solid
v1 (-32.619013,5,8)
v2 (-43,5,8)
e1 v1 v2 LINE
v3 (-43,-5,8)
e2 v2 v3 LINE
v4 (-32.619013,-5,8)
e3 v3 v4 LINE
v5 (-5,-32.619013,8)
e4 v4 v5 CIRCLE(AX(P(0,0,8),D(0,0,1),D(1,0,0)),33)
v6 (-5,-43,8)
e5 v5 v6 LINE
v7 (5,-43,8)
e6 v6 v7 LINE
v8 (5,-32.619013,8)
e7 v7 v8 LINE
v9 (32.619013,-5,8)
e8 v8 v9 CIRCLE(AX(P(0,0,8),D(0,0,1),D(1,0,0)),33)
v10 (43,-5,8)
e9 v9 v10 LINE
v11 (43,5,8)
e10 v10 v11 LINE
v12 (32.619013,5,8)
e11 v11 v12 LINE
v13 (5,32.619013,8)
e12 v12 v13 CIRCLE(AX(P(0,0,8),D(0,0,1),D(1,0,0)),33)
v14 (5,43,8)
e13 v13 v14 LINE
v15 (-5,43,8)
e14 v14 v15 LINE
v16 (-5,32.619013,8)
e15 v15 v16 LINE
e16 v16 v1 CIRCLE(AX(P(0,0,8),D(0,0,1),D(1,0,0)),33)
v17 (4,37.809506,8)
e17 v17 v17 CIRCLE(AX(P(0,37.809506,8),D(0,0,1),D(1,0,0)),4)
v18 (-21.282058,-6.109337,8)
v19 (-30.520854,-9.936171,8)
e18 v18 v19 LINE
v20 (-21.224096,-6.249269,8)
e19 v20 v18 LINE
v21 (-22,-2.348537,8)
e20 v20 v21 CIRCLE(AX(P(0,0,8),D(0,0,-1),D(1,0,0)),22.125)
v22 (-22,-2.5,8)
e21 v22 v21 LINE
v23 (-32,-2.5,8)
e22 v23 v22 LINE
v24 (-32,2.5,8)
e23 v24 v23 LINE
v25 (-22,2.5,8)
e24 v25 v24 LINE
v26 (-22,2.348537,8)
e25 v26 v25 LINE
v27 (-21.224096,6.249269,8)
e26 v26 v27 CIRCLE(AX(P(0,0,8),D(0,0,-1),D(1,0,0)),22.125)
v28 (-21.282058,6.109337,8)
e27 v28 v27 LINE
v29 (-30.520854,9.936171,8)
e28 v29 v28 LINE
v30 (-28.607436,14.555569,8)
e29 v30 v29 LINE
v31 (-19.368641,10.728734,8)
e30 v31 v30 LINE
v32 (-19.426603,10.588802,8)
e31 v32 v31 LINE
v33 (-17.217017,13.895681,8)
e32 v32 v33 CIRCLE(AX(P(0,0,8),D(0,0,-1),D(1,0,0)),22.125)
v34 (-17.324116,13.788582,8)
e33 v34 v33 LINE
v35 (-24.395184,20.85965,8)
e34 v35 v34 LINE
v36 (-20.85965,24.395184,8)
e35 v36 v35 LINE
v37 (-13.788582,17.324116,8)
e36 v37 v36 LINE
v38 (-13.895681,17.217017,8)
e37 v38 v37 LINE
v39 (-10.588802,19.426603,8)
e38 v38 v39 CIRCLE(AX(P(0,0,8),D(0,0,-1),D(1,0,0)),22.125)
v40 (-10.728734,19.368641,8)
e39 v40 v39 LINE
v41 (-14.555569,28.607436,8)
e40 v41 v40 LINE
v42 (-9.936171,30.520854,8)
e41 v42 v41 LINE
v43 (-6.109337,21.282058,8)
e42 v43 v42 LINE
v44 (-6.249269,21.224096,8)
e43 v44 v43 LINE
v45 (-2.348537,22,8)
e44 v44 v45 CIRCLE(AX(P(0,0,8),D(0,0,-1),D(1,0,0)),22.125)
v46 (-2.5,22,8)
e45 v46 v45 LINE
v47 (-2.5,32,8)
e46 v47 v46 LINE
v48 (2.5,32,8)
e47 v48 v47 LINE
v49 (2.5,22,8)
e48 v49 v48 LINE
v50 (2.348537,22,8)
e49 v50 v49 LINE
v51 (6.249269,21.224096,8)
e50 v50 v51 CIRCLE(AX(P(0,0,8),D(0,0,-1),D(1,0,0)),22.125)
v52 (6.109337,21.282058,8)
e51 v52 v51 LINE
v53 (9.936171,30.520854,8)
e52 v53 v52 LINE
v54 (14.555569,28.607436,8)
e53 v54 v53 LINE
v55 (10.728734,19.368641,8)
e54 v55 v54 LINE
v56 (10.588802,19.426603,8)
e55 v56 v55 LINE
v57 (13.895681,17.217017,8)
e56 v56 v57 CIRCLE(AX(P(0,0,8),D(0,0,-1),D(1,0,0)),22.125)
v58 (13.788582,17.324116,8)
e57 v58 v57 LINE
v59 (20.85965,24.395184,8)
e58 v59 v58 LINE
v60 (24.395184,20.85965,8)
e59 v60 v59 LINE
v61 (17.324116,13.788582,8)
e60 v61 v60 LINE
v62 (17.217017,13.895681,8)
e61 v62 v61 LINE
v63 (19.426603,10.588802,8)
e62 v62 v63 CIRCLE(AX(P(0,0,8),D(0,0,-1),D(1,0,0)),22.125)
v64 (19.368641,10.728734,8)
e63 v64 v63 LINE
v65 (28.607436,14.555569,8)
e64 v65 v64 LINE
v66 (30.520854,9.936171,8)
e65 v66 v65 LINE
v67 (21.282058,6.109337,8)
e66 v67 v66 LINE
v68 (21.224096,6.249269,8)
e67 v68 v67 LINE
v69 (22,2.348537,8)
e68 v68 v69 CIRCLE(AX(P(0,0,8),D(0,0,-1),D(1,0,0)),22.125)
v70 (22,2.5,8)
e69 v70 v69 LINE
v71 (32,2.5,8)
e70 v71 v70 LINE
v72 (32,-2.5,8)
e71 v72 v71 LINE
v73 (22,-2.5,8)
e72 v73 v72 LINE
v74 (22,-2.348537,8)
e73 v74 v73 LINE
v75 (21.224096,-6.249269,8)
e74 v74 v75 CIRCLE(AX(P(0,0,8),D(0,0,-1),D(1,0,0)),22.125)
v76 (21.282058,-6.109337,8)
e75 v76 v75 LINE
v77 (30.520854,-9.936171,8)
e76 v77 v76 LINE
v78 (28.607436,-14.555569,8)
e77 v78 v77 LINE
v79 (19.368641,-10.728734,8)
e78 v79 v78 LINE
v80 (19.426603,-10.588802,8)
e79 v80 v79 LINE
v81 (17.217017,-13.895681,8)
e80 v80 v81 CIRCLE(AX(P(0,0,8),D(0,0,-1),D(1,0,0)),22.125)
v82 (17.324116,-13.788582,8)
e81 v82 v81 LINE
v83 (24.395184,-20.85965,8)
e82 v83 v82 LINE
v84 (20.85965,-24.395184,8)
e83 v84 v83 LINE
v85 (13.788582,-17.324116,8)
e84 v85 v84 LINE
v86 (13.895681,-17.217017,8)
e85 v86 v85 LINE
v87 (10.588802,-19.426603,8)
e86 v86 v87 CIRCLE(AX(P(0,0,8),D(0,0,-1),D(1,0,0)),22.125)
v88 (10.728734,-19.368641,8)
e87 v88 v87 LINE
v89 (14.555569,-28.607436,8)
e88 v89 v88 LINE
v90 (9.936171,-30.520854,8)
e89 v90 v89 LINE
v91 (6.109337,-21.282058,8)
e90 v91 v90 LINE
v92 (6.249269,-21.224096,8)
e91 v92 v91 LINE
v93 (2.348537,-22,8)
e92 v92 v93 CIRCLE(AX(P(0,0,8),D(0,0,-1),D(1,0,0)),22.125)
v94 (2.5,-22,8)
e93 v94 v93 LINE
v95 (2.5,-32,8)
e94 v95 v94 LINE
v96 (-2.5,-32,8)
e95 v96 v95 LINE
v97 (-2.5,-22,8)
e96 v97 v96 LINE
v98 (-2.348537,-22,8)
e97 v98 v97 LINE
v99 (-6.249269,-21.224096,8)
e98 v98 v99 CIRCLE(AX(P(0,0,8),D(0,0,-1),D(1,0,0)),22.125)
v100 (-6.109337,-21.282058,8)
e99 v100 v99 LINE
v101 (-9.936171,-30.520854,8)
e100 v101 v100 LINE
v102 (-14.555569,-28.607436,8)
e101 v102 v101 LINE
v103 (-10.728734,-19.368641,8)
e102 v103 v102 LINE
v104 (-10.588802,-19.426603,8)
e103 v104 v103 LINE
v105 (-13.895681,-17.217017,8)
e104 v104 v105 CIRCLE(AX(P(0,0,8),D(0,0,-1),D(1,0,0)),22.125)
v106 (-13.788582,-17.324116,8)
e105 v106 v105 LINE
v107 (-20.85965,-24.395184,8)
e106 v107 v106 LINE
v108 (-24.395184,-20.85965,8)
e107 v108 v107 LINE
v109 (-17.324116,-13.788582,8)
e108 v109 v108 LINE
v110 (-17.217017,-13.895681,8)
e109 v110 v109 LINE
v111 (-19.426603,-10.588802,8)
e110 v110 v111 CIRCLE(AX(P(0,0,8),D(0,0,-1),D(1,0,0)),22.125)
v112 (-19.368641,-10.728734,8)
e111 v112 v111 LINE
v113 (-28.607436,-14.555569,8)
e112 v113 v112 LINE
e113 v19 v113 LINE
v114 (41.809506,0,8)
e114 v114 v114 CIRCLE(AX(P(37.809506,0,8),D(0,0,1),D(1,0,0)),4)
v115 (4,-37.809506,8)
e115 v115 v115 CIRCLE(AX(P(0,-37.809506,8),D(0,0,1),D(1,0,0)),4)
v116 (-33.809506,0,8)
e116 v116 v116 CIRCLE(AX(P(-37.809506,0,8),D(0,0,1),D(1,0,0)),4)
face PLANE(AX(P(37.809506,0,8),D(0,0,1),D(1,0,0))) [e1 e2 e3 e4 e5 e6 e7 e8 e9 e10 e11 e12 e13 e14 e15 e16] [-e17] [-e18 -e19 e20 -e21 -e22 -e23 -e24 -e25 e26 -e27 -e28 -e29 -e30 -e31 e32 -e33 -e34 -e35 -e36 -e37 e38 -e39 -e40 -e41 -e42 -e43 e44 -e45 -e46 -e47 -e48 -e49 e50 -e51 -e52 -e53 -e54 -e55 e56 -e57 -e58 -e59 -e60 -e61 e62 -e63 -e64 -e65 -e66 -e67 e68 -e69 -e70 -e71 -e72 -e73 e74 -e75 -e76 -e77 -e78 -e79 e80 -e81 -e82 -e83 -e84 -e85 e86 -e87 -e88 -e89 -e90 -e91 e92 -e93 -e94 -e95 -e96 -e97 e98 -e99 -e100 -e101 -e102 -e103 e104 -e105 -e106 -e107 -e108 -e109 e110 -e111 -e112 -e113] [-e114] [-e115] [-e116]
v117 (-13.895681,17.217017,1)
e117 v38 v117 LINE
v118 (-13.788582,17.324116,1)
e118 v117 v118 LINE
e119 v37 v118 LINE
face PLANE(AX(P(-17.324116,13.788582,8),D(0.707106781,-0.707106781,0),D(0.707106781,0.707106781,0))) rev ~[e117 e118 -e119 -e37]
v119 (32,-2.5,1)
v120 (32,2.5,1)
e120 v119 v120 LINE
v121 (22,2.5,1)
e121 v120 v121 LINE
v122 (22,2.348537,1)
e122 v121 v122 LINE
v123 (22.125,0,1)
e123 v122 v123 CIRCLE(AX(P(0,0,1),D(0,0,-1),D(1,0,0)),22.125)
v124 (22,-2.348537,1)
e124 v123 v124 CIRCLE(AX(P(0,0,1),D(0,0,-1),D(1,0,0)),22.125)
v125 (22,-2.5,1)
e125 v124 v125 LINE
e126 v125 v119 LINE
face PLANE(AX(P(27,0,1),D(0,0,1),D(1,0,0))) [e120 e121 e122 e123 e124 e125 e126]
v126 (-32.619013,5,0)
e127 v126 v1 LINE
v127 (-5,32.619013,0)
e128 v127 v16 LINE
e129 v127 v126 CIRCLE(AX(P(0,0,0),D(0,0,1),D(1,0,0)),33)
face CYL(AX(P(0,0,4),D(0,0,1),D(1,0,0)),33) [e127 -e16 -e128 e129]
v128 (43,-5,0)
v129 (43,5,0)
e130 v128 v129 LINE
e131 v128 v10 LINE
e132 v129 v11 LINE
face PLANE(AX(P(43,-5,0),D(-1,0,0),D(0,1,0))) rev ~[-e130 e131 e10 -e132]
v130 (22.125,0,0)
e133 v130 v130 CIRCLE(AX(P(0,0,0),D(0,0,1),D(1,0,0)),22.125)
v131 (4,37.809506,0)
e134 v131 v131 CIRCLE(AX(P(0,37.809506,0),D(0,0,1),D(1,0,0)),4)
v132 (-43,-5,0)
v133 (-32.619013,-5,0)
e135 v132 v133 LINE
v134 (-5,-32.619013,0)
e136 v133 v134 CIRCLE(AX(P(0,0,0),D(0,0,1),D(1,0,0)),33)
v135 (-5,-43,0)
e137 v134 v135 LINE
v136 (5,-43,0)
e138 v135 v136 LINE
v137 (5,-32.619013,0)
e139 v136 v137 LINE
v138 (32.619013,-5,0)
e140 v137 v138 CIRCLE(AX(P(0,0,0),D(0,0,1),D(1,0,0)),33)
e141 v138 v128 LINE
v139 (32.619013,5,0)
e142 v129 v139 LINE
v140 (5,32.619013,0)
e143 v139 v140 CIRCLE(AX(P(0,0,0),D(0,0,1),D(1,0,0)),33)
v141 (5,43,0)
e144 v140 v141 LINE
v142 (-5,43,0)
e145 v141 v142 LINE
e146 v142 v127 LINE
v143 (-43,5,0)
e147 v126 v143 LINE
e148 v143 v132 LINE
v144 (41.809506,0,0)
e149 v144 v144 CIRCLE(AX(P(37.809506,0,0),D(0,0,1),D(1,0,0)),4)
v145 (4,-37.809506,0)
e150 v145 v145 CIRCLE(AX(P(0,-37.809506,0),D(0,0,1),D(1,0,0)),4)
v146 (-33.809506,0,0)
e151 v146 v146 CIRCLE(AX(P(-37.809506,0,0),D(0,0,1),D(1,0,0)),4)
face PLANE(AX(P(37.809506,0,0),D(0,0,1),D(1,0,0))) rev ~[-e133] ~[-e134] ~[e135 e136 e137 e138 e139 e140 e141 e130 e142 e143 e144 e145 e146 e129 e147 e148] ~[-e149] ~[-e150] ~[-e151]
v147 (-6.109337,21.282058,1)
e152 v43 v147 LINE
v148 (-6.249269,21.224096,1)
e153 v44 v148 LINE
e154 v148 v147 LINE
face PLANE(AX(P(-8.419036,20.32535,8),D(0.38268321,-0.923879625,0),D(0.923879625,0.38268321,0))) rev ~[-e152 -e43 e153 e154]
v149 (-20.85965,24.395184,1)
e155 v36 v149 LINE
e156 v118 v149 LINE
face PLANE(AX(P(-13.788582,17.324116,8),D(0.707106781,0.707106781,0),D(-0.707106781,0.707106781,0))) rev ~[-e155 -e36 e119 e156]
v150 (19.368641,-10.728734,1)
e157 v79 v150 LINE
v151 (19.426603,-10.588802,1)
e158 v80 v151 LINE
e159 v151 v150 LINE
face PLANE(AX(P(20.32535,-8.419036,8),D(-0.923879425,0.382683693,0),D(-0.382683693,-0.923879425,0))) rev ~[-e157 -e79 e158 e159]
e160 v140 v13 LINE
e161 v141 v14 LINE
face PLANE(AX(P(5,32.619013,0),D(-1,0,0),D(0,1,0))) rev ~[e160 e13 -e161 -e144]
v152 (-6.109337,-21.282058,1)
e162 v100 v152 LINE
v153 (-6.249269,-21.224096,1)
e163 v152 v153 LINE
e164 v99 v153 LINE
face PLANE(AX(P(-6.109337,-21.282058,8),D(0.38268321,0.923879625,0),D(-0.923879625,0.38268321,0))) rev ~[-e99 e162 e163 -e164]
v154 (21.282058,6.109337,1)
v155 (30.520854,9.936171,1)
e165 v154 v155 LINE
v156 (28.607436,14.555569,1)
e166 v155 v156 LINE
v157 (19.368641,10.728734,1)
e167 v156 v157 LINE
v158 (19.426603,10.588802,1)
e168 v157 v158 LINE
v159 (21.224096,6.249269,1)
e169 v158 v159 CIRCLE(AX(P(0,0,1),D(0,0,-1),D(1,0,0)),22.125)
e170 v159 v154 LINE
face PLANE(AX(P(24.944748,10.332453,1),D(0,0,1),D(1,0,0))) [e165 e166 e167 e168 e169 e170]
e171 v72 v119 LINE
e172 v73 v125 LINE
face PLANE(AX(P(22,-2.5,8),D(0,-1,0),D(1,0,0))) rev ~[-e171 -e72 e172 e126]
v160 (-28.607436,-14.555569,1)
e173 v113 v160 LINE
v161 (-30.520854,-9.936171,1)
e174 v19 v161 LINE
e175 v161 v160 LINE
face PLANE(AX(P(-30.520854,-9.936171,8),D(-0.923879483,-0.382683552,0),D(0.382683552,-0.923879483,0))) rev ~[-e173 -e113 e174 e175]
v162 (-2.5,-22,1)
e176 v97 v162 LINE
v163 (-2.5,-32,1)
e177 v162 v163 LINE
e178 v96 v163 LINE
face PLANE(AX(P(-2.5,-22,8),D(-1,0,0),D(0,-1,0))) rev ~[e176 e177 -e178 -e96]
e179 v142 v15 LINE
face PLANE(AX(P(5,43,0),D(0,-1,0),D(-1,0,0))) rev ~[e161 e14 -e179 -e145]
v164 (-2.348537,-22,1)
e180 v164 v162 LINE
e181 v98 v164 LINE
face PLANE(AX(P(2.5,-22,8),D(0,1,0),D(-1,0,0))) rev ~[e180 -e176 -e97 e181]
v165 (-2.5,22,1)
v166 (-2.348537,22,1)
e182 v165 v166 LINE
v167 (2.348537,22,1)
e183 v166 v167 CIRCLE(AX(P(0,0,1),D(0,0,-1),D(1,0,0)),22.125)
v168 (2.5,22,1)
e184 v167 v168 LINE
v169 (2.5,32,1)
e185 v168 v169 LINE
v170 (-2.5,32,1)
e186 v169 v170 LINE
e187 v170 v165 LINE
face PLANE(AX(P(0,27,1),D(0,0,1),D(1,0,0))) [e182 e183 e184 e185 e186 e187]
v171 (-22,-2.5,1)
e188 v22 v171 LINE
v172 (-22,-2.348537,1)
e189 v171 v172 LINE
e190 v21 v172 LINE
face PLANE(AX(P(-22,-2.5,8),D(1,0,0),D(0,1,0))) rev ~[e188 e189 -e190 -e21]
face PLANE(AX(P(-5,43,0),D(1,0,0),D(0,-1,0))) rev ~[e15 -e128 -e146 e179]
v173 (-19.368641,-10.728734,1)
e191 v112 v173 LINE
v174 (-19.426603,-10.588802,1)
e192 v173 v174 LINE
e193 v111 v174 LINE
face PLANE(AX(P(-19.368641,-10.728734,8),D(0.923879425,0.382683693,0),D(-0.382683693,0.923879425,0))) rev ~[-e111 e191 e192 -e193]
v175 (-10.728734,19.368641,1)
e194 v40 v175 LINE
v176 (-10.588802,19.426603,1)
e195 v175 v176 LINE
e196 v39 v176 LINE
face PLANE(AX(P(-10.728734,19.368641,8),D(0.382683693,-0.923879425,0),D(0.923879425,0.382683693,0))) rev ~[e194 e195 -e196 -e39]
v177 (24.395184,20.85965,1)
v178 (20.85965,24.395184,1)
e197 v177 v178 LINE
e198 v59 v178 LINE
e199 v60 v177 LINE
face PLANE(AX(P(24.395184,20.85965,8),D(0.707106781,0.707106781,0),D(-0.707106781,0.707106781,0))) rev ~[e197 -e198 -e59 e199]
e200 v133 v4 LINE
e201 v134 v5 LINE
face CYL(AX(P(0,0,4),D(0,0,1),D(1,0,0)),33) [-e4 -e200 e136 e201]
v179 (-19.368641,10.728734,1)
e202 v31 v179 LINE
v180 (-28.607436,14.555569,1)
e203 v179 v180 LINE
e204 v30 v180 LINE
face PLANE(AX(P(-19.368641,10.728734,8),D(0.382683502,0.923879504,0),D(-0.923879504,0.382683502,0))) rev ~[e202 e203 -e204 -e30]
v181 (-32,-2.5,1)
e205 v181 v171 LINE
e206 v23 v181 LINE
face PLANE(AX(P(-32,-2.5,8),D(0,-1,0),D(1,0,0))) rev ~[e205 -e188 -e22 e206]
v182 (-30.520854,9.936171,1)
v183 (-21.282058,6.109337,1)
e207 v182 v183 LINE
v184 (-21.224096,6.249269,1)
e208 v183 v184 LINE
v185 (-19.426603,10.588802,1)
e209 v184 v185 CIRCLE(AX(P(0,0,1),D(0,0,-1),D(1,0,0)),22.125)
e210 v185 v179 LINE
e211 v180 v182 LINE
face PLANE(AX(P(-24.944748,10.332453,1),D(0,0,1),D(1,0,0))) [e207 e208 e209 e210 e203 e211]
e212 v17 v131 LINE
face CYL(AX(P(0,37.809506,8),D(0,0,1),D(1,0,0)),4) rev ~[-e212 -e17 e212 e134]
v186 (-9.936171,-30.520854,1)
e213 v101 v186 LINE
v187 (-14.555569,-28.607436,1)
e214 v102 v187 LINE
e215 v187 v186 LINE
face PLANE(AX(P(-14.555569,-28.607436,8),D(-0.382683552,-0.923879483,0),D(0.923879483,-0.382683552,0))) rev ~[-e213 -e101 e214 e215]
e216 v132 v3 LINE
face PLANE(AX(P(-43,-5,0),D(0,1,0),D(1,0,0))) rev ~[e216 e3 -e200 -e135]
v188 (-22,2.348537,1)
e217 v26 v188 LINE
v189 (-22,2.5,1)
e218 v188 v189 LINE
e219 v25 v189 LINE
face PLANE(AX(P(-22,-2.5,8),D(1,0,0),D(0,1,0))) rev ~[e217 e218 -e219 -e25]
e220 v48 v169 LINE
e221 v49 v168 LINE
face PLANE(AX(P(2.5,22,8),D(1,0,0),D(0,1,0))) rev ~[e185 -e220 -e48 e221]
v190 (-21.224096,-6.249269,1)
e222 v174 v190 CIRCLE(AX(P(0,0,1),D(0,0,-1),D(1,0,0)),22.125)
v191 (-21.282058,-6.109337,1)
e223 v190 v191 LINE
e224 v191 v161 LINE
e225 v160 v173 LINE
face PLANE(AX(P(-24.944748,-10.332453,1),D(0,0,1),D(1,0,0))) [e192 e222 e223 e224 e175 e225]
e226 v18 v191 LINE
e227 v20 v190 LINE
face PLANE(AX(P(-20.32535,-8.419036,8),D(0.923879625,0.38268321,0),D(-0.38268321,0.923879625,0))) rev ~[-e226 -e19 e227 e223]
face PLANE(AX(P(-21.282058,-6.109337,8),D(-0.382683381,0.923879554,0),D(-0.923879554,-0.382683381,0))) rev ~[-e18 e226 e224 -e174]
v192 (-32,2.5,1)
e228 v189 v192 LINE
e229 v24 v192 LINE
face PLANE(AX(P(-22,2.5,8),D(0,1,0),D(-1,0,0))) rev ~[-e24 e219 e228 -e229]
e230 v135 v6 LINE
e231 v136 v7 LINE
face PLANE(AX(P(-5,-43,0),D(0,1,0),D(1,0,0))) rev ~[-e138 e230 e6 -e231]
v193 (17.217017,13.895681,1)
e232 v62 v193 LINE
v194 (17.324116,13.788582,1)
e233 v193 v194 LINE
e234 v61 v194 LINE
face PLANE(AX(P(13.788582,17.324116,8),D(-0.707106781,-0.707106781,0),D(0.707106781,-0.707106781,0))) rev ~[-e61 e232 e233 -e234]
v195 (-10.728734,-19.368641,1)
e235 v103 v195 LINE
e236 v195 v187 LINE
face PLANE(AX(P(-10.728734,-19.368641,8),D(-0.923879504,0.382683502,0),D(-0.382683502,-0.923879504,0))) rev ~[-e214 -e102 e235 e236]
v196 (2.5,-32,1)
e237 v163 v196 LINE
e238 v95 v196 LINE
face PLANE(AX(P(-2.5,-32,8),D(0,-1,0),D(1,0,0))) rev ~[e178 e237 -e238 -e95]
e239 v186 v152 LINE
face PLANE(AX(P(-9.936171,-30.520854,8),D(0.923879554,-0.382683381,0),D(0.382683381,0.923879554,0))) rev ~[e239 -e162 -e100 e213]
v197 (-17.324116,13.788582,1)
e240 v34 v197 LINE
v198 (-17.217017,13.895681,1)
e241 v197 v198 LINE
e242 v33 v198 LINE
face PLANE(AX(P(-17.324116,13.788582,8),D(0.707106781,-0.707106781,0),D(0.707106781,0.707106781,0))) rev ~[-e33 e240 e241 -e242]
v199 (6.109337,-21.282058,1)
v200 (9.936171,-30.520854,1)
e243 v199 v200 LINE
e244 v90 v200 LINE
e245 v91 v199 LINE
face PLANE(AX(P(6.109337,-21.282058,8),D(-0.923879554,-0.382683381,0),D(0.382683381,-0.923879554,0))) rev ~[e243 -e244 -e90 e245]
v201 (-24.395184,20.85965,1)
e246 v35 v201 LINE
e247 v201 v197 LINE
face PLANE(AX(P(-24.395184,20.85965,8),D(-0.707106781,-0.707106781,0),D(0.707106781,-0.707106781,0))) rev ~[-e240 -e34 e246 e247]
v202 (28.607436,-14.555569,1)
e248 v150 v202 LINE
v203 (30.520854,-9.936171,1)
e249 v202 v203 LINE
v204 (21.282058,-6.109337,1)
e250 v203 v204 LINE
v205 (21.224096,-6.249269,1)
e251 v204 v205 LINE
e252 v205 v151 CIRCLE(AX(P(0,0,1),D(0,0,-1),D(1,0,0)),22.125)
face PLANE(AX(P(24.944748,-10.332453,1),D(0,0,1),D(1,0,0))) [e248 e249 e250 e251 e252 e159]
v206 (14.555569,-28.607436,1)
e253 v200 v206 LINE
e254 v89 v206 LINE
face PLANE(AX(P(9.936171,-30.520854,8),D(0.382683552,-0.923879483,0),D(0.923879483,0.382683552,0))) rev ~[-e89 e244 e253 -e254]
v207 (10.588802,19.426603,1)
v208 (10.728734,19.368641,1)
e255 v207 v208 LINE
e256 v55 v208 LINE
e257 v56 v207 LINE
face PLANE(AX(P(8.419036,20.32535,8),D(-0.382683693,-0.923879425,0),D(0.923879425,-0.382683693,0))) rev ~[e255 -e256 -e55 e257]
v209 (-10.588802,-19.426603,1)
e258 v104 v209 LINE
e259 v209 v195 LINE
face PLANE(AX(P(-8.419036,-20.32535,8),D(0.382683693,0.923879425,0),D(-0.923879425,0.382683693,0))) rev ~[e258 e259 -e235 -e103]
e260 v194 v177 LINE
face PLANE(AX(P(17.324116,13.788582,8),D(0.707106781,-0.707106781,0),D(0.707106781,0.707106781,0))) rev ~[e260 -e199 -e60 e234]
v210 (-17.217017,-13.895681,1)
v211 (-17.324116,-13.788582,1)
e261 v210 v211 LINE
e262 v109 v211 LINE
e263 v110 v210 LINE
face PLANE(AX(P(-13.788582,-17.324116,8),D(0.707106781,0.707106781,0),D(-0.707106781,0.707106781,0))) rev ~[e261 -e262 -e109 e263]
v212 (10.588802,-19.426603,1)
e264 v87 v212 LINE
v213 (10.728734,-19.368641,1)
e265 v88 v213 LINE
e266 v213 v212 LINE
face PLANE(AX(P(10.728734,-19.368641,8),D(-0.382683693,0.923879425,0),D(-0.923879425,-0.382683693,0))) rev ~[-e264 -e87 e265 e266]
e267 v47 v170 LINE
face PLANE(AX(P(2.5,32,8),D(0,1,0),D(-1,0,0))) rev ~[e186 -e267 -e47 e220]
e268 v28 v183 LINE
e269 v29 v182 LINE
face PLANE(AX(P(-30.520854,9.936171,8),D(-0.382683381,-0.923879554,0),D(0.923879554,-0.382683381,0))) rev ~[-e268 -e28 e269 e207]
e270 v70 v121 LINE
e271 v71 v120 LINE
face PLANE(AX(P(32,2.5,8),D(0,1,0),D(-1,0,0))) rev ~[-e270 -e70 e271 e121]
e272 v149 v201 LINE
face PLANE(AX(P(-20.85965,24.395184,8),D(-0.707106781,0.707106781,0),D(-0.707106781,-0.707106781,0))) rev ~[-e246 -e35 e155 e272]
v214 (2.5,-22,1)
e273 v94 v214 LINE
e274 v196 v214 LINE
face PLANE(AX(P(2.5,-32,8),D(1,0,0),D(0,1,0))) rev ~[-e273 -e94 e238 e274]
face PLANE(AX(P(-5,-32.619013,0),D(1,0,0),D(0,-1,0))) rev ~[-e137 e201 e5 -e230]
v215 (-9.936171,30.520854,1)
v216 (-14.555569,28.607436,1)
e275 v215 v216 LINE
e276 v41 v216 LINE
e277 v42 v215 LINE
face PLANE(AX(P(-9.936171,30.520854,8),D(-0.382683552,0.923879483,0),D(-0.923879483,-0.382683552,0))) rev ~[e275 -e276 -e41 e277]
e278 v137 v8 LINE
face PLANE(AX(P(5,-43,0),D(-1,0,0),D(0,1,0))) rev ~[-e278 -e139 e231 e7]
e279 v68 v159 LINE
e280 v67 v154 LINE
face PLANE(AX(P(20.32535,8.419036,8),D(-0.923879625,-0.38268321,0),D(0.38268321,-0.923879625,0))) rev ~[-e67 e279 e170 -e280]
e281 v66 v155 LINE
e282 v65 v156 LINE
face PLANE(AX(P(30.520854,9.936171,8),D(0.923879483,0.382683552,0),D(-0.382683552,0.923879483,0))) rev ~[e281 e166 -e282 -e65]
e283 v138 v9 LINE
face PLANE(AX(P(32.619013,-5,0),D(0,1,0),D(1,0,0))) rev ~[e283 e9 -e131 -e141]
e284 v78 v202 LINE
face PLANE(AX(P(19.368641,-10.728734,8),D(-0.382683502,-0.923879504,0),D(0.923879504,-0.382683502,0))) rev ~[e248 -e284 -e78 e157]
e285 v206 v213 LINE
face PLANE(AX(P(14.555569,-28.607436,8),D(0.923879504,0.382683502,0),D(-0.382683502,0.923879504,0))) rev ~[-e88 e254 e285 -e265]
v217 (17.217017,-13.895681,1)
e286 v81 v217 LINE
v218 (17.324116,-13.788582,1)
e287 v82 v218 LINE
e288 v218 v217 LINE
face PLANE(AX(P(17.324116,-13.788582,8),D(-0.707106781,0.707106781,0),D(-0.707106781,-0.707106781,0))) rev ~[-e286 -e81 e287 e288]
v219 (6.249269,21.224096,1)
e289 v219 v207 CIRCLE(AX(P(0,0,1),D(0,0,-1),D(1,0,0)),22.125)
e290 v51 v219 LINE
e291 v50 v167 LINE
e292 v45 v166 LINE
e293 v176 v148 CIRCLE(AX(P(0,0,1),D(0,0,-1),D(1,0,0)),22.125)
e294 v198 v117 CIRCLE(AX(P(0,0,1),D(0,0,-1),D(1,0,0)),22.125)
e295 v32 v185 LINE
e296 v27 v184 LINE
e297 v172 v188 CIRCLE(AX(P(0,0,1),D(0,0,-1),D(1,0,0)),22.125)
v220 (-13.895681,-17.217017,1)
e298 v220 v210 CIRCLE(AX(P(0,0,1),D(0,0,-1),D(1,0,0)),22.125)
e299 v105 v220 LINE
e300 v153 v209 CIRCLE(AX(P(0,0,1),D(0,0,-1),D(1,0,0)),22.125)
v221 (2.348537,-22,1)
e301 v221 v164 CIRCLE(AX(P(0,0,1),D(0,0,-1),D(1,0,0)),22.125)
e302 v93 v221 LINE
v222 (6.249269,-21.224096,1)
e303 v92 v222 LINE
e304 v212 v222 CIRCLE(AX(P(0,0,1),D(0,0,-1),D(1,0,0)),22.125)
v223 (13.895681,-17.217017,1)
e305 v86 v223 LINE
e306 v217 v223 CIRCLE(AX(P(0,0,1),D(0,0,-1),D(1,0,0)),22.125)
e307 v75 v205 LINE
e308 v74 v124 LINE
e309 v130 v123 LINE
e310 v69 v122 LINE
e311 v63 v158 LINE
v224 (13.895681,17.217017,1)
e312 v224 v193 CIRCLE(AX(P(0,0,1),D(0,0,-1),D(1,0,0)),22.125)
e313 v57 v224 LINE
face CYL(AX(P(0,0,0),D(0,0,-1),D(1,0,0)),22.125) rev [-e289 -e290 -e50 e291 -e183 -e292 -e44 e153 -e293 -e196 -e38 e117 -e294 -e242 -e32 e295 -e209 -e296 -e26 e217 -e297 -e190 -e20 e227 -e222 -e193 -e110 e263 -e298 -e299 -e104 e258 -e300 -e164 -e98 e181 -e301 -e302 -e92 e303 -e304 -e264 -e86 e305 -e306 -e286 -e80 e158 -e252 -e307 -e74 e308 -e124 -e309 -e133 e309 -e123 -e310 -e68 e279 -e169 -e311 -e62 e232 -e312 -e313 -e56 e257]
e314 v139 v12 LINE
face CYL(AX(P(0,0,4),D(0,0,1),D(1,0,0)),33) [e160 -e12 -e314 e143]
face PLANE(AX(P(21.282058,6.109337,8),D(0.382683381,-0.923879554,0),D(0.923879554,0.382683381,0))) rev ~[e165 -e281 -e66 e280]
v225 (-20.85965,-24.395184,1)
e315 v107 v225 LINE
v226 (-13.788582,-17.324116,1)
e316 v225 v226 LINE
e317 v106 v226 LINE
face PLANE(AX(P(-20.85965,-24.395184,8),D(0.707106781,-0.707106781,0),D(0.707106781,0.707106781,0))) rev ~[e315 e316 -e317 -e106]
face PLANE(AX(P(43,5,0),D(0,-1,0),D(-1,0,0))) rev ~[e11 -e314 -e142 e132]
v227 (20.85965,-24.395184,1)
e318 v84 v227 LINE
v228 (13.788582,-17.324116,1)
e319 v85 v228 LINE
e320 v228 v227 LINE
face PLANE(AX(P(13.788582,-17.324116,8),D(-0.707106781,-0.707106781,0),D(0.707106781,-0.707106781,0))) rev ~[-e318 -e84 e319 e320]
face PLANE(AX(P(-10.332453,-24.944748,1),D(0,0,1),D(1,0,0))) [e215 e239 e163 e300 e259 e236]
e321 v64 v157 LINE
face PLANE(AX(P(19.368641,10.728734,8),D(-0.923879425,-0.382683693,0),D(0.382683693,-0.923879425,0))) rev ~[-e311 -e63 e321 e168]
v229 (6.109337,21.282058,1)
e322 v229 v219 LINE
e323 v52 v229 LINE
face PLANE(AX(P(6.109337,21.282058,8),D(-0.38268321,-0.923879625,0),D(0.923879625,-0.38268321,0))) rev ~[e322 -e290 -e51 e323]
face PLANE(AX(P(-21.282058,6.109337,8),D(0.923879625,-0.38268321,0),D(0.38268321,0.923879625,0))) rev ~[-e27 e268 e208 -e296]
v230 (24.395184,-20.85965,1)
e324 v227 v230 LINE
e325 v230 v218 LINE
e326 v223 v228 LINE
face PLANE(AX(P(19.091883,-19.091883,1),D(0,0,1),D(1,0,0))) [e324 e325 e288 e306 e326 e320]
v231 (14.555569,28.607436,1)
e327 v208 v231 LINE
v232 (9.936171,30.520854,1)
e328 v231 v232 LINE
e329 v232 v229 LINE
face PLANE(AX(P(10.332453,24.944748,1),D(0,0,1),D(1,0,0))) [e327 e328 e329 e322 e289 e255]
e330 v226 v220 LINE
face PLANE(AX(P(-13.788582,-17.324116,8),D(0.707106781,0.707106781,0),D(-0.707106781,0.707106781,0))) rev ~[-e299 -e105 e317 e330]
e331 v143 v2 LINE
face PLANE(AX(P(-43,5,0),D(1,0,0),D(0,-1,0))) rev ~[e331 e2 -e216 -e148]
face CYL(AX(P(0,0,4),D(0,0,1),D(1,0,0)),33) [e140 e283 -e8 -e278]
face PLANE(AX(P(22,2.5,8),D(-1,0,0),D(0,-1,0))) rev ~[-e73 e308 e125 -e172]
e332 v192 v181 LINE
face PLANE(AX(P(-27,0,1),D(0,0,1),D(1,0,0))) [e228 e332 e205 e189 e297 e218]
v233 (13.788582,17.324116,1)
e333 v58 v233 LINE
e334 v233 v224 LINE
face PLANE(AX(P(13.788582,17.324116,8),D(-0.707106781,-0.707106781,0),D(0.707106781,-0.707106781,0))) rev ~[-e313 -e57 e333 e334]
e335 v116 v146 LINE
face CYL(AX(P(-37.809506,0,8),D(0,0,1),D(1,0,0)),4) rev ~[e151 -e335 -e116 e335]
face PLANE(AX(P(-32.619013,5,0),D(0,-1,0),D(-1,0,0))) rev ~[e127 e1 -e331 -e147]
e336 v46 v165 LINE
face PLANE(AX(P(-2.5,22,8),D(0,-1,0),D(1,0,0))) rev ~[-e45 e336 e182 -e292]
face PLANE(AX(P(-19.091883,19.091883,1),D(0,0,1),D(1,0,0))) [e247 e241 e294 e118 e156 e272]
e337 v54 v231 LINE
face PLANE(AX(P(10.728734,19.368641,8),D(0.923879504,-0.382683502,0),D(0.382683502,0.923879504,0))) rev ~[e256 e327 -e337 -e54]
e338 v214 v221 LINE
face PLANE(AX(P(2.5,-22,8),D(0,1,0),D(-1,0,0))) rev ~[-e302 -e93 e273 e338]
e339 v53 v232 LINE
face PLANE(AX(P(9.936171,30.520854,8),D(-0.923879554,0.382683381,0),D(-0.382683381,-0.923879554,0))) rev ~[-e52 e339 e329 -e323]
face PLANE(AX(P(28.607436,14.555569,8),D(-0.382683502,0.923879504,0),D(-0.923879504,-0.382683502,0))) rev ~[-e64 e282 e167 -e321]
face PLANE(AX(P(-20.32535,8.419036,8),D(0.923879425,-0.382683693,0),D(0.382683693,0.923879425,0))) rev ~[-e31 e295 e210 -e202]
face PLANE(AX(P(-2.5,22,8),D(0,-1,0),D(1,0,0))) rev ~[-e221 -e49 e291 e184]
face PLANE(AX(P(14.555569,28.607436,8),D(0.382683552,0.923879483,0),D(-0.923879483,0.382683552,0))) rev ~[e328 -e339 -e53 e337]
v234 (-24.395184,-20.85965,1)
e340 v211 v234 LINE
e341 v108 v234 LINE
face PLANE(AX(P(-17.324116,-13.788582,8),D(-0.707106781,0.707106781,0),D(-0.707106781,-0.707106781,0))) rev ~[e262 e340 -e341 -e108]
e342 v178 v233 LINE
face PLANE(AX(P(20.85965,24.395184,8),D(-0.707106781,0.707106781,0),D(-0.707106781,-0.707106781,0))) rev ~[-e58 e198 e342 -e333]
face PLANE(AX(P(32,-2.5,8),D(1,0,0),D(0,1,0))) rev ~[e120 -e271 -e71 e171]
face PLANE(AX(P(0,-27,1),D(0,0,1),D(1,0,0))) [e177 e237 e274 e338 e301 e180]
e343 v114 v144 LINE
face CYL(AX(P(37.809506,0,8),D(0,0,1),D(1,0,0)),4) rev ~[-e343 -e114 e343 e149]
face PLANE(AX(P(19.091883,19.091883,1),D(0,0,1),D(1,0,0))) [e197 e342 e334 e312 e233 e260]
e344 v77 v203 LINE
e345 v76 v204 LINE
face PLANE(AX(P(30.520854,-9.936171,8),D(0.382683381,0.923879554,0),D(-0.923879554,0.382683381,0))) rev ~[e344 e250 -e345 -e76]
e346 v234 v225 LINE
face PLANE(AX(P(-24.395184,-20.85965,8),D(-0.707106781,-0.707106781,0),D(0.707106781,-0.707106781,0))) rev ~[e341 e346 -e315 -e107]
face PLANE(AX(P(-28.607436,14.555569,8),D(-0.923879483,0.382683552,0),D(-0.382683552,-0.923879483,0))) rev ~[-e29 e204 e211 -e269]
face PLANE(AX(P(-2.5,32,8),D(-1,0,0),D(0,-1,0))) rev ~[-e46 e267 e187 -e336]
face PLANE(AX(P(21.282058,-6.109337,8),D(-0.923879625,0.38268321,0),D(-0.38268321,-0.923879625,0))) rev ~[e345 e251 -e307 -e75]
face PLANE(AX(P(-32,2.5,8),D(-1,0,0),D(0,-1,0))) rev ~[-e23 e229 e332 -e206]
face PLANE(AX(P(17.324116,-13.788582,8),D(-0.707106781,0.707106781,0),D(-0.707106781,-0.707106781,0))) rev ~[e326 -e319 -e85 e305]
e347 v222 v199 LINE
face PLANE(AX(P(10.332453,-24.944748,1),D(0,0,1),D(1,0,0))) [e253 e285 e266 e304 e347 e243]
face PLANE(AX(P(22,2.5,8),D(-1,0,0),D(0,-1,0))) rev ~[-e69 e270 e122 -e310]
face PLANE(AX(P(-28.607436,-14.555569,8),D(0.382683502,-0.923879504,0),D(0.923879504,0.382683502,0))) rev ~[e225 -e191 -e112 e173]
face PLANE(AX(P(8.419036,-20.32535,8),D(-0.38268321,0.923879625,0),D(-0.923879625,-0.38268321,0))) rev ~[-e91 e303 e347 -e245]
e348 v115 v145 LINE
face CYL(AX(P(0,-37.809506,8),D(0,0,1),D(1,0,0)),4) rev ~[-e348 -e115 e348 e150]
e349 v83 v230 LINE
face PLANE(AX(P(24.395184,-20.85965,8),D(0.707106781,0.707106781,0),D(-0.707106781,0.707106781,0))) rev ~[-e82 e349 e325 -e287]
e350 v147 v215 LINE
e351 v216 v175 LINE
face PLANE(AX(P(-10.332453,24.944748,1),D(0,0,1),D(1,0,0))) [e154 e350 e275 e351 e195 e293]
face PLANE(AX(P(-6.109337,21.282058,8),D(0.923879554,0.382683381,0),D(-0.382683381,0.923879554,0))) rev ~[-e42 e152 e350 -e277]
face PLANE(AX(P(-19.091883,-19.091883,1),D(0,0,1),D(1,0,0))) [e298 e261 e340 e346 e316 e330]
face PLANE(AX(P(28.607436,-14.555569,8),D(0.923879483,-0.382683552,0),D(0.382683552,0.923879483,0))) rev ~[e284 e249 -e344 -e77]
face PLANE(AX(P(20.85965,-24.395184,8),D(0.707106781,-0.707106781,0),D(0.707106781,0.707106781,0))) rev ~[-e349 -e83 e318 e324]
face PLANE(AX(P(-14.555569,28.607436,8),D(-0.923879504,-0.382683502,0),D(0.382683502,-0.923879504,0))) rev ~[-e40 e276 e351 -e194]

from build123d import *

# Parameters (mm, degrees)
F0_W     = 33
F0_H     = 8
F2_R     = 22.125
F3_DEPTH = 25
F5_DEPTH = 7
F7_DEPTH = 8
F8_R     = 4
F9_DEPTH = 25


with BuildPart() as f1:
    # F0 (on Front) → F1 (revolve)
    with BuildSketch(Plane.XZ):
        with Locations((16.5, 4)):
            Rectangle(F0_W, F0_H)
    revolve(axis=Axis((0, 0, 4), (0, 0, 1)))

    # F2 (on Top) → F3 (cut)
    with BuildSketch(Plane.XY):
        Circle(F2_R)
    extrude(amount=F3_DEPTH, mode=Mode.SUBTRACT)

    # F4 (on face) → F5 (cut)
    with BuildSketch(Plane.XY.offset(8)):
        Polygon((-2.5, 22), (0, 22), (2.5, 22), (2.5, 32), (-2.5, 32), align=None)
        Polygon((-14.555569, 28.607436), (-10.728734, 19.368641), (-8.419036, 20.32535), (-6.109337, 21.282058), (-9.936171, 30.520854), align=None)
        Polygon((-24.395184, 20.85965), (-17.324116, 13.788582), (-15.556349, 15.556349), (-13.788582, 17.324116), (-20.85965, 24.395184), align=None)
        Polygon((-30.520854, 9.936171), (-21.282058, 6.109337), (-20.32535, 8.419036), (-19.368641, 10.728734), (-28.607436, 14.555569), align=None)
        Polygon((-32, -2.5), (-22, -2.5), (-22, 0), (-22, 2.5), (-32, 2.5), align=None)
        Polygon((-28.607436, -14.555569), (-19.368641, -10.728734), (-20.32535, -8.419036), (-21.282058, -6.109337), (-30.520854, -9.936171), align=None)
        Polygon((-20.85965, -24.395184), (-13.788582, -17.324116), (-15.556349, -15.556349), (-17.324116, -13.788582), (-24.395184, -20.85965), align=None)
        Polygon((-9.936171, -30.520854), (-6.109337, -21.282058), (-8.419036, -20.32535), (-10.728734, -19.368641), (-14.555569, -28.607436), align=None)
        Polygon((2.5, -32), (2.5, -22), (0, -22), (-2.5, -22), (-2.5, -32), align=None)
        Polygon((14.555569, -28.607436), (10.728734, -19.368641), (8.419036, -20.32535), (6.109337, -21.282058), (9.936171, -30.520854), align=None)
        Polygon((24.395184, -20.85965), (17.324116, -13.788582), (15.556349, -15.556349), (13.788582, -17.324116), (20.85965, -24.395184), align=None)
        Polygon((30.520854, -9.936171), (21.282058, -6.109337), (20.32535, -8.419036), (19.368641, -10.728734), (28.607436, -14.555569), align=None)
        Polygon((32, 2.5), (22, 2.5), (22, 0), (22, -2.5), (32, -2.5), align=None)
        Polygon((28.607436, 14.555569), (19.368641, 10.728734), (20.32535, 8.419036), (21.282058, 6.109337), (30.520854, 9.936171), align=None)
        Polygon((20.85965, 24.395184), (13.788582, 17.324116), (15.556349, 15.556349), (17.324116, 13.788582), (24.395184, 20.85965), align=None)
        Polygon((9.936171, 30.520854), (6.109337, 21.282058), (8.419036, 20.32535), (10.728734, 19.368641), (14.555569, 28.607436), align=None)
    extrude(amount=-F5_DEPTH, mode=Mode.SUBTRACT)

    # F6 (on Top) → F7 (join)
    with BuildSketch(Plane.XY):
        Polygon((43, -5), (43, 0), (43, 5), (32.619013, 5), (32.619013, -5), align=None)
        Polygon((5, 32.619013), (5, 43), (0, 43), (-5, 43), (-5, 32.619013), align=None)
        Polygon((-32.619013, 5), (-43, 5), (-43, 0), (-43, -5), (-32.619013, -5), align=None)
        Polygon((-5, -32.619013), (-5, -43), (0, -43), (5, -43), (5, -32.619013), align=None)
    extrude(amount=F7_DEPTH)

    # F8 (on face) → F9 (cut)
    with BuildSketch(Plane.XY.offset(8)):
        with Locations((0, 37.809506)):
            Circle(F8_R)
        with Locations((37.809506, 0)):
            Circle(F8_R)
        with Locations((-37.809506, 0)):
            Circle(F8_R)
        with Locations((0, -37.809506)):
            Circle(F8_R)
    extrude(amount=-F9_DEPTH, mode=Mode.SUBTRACT)


solid = f1.part
